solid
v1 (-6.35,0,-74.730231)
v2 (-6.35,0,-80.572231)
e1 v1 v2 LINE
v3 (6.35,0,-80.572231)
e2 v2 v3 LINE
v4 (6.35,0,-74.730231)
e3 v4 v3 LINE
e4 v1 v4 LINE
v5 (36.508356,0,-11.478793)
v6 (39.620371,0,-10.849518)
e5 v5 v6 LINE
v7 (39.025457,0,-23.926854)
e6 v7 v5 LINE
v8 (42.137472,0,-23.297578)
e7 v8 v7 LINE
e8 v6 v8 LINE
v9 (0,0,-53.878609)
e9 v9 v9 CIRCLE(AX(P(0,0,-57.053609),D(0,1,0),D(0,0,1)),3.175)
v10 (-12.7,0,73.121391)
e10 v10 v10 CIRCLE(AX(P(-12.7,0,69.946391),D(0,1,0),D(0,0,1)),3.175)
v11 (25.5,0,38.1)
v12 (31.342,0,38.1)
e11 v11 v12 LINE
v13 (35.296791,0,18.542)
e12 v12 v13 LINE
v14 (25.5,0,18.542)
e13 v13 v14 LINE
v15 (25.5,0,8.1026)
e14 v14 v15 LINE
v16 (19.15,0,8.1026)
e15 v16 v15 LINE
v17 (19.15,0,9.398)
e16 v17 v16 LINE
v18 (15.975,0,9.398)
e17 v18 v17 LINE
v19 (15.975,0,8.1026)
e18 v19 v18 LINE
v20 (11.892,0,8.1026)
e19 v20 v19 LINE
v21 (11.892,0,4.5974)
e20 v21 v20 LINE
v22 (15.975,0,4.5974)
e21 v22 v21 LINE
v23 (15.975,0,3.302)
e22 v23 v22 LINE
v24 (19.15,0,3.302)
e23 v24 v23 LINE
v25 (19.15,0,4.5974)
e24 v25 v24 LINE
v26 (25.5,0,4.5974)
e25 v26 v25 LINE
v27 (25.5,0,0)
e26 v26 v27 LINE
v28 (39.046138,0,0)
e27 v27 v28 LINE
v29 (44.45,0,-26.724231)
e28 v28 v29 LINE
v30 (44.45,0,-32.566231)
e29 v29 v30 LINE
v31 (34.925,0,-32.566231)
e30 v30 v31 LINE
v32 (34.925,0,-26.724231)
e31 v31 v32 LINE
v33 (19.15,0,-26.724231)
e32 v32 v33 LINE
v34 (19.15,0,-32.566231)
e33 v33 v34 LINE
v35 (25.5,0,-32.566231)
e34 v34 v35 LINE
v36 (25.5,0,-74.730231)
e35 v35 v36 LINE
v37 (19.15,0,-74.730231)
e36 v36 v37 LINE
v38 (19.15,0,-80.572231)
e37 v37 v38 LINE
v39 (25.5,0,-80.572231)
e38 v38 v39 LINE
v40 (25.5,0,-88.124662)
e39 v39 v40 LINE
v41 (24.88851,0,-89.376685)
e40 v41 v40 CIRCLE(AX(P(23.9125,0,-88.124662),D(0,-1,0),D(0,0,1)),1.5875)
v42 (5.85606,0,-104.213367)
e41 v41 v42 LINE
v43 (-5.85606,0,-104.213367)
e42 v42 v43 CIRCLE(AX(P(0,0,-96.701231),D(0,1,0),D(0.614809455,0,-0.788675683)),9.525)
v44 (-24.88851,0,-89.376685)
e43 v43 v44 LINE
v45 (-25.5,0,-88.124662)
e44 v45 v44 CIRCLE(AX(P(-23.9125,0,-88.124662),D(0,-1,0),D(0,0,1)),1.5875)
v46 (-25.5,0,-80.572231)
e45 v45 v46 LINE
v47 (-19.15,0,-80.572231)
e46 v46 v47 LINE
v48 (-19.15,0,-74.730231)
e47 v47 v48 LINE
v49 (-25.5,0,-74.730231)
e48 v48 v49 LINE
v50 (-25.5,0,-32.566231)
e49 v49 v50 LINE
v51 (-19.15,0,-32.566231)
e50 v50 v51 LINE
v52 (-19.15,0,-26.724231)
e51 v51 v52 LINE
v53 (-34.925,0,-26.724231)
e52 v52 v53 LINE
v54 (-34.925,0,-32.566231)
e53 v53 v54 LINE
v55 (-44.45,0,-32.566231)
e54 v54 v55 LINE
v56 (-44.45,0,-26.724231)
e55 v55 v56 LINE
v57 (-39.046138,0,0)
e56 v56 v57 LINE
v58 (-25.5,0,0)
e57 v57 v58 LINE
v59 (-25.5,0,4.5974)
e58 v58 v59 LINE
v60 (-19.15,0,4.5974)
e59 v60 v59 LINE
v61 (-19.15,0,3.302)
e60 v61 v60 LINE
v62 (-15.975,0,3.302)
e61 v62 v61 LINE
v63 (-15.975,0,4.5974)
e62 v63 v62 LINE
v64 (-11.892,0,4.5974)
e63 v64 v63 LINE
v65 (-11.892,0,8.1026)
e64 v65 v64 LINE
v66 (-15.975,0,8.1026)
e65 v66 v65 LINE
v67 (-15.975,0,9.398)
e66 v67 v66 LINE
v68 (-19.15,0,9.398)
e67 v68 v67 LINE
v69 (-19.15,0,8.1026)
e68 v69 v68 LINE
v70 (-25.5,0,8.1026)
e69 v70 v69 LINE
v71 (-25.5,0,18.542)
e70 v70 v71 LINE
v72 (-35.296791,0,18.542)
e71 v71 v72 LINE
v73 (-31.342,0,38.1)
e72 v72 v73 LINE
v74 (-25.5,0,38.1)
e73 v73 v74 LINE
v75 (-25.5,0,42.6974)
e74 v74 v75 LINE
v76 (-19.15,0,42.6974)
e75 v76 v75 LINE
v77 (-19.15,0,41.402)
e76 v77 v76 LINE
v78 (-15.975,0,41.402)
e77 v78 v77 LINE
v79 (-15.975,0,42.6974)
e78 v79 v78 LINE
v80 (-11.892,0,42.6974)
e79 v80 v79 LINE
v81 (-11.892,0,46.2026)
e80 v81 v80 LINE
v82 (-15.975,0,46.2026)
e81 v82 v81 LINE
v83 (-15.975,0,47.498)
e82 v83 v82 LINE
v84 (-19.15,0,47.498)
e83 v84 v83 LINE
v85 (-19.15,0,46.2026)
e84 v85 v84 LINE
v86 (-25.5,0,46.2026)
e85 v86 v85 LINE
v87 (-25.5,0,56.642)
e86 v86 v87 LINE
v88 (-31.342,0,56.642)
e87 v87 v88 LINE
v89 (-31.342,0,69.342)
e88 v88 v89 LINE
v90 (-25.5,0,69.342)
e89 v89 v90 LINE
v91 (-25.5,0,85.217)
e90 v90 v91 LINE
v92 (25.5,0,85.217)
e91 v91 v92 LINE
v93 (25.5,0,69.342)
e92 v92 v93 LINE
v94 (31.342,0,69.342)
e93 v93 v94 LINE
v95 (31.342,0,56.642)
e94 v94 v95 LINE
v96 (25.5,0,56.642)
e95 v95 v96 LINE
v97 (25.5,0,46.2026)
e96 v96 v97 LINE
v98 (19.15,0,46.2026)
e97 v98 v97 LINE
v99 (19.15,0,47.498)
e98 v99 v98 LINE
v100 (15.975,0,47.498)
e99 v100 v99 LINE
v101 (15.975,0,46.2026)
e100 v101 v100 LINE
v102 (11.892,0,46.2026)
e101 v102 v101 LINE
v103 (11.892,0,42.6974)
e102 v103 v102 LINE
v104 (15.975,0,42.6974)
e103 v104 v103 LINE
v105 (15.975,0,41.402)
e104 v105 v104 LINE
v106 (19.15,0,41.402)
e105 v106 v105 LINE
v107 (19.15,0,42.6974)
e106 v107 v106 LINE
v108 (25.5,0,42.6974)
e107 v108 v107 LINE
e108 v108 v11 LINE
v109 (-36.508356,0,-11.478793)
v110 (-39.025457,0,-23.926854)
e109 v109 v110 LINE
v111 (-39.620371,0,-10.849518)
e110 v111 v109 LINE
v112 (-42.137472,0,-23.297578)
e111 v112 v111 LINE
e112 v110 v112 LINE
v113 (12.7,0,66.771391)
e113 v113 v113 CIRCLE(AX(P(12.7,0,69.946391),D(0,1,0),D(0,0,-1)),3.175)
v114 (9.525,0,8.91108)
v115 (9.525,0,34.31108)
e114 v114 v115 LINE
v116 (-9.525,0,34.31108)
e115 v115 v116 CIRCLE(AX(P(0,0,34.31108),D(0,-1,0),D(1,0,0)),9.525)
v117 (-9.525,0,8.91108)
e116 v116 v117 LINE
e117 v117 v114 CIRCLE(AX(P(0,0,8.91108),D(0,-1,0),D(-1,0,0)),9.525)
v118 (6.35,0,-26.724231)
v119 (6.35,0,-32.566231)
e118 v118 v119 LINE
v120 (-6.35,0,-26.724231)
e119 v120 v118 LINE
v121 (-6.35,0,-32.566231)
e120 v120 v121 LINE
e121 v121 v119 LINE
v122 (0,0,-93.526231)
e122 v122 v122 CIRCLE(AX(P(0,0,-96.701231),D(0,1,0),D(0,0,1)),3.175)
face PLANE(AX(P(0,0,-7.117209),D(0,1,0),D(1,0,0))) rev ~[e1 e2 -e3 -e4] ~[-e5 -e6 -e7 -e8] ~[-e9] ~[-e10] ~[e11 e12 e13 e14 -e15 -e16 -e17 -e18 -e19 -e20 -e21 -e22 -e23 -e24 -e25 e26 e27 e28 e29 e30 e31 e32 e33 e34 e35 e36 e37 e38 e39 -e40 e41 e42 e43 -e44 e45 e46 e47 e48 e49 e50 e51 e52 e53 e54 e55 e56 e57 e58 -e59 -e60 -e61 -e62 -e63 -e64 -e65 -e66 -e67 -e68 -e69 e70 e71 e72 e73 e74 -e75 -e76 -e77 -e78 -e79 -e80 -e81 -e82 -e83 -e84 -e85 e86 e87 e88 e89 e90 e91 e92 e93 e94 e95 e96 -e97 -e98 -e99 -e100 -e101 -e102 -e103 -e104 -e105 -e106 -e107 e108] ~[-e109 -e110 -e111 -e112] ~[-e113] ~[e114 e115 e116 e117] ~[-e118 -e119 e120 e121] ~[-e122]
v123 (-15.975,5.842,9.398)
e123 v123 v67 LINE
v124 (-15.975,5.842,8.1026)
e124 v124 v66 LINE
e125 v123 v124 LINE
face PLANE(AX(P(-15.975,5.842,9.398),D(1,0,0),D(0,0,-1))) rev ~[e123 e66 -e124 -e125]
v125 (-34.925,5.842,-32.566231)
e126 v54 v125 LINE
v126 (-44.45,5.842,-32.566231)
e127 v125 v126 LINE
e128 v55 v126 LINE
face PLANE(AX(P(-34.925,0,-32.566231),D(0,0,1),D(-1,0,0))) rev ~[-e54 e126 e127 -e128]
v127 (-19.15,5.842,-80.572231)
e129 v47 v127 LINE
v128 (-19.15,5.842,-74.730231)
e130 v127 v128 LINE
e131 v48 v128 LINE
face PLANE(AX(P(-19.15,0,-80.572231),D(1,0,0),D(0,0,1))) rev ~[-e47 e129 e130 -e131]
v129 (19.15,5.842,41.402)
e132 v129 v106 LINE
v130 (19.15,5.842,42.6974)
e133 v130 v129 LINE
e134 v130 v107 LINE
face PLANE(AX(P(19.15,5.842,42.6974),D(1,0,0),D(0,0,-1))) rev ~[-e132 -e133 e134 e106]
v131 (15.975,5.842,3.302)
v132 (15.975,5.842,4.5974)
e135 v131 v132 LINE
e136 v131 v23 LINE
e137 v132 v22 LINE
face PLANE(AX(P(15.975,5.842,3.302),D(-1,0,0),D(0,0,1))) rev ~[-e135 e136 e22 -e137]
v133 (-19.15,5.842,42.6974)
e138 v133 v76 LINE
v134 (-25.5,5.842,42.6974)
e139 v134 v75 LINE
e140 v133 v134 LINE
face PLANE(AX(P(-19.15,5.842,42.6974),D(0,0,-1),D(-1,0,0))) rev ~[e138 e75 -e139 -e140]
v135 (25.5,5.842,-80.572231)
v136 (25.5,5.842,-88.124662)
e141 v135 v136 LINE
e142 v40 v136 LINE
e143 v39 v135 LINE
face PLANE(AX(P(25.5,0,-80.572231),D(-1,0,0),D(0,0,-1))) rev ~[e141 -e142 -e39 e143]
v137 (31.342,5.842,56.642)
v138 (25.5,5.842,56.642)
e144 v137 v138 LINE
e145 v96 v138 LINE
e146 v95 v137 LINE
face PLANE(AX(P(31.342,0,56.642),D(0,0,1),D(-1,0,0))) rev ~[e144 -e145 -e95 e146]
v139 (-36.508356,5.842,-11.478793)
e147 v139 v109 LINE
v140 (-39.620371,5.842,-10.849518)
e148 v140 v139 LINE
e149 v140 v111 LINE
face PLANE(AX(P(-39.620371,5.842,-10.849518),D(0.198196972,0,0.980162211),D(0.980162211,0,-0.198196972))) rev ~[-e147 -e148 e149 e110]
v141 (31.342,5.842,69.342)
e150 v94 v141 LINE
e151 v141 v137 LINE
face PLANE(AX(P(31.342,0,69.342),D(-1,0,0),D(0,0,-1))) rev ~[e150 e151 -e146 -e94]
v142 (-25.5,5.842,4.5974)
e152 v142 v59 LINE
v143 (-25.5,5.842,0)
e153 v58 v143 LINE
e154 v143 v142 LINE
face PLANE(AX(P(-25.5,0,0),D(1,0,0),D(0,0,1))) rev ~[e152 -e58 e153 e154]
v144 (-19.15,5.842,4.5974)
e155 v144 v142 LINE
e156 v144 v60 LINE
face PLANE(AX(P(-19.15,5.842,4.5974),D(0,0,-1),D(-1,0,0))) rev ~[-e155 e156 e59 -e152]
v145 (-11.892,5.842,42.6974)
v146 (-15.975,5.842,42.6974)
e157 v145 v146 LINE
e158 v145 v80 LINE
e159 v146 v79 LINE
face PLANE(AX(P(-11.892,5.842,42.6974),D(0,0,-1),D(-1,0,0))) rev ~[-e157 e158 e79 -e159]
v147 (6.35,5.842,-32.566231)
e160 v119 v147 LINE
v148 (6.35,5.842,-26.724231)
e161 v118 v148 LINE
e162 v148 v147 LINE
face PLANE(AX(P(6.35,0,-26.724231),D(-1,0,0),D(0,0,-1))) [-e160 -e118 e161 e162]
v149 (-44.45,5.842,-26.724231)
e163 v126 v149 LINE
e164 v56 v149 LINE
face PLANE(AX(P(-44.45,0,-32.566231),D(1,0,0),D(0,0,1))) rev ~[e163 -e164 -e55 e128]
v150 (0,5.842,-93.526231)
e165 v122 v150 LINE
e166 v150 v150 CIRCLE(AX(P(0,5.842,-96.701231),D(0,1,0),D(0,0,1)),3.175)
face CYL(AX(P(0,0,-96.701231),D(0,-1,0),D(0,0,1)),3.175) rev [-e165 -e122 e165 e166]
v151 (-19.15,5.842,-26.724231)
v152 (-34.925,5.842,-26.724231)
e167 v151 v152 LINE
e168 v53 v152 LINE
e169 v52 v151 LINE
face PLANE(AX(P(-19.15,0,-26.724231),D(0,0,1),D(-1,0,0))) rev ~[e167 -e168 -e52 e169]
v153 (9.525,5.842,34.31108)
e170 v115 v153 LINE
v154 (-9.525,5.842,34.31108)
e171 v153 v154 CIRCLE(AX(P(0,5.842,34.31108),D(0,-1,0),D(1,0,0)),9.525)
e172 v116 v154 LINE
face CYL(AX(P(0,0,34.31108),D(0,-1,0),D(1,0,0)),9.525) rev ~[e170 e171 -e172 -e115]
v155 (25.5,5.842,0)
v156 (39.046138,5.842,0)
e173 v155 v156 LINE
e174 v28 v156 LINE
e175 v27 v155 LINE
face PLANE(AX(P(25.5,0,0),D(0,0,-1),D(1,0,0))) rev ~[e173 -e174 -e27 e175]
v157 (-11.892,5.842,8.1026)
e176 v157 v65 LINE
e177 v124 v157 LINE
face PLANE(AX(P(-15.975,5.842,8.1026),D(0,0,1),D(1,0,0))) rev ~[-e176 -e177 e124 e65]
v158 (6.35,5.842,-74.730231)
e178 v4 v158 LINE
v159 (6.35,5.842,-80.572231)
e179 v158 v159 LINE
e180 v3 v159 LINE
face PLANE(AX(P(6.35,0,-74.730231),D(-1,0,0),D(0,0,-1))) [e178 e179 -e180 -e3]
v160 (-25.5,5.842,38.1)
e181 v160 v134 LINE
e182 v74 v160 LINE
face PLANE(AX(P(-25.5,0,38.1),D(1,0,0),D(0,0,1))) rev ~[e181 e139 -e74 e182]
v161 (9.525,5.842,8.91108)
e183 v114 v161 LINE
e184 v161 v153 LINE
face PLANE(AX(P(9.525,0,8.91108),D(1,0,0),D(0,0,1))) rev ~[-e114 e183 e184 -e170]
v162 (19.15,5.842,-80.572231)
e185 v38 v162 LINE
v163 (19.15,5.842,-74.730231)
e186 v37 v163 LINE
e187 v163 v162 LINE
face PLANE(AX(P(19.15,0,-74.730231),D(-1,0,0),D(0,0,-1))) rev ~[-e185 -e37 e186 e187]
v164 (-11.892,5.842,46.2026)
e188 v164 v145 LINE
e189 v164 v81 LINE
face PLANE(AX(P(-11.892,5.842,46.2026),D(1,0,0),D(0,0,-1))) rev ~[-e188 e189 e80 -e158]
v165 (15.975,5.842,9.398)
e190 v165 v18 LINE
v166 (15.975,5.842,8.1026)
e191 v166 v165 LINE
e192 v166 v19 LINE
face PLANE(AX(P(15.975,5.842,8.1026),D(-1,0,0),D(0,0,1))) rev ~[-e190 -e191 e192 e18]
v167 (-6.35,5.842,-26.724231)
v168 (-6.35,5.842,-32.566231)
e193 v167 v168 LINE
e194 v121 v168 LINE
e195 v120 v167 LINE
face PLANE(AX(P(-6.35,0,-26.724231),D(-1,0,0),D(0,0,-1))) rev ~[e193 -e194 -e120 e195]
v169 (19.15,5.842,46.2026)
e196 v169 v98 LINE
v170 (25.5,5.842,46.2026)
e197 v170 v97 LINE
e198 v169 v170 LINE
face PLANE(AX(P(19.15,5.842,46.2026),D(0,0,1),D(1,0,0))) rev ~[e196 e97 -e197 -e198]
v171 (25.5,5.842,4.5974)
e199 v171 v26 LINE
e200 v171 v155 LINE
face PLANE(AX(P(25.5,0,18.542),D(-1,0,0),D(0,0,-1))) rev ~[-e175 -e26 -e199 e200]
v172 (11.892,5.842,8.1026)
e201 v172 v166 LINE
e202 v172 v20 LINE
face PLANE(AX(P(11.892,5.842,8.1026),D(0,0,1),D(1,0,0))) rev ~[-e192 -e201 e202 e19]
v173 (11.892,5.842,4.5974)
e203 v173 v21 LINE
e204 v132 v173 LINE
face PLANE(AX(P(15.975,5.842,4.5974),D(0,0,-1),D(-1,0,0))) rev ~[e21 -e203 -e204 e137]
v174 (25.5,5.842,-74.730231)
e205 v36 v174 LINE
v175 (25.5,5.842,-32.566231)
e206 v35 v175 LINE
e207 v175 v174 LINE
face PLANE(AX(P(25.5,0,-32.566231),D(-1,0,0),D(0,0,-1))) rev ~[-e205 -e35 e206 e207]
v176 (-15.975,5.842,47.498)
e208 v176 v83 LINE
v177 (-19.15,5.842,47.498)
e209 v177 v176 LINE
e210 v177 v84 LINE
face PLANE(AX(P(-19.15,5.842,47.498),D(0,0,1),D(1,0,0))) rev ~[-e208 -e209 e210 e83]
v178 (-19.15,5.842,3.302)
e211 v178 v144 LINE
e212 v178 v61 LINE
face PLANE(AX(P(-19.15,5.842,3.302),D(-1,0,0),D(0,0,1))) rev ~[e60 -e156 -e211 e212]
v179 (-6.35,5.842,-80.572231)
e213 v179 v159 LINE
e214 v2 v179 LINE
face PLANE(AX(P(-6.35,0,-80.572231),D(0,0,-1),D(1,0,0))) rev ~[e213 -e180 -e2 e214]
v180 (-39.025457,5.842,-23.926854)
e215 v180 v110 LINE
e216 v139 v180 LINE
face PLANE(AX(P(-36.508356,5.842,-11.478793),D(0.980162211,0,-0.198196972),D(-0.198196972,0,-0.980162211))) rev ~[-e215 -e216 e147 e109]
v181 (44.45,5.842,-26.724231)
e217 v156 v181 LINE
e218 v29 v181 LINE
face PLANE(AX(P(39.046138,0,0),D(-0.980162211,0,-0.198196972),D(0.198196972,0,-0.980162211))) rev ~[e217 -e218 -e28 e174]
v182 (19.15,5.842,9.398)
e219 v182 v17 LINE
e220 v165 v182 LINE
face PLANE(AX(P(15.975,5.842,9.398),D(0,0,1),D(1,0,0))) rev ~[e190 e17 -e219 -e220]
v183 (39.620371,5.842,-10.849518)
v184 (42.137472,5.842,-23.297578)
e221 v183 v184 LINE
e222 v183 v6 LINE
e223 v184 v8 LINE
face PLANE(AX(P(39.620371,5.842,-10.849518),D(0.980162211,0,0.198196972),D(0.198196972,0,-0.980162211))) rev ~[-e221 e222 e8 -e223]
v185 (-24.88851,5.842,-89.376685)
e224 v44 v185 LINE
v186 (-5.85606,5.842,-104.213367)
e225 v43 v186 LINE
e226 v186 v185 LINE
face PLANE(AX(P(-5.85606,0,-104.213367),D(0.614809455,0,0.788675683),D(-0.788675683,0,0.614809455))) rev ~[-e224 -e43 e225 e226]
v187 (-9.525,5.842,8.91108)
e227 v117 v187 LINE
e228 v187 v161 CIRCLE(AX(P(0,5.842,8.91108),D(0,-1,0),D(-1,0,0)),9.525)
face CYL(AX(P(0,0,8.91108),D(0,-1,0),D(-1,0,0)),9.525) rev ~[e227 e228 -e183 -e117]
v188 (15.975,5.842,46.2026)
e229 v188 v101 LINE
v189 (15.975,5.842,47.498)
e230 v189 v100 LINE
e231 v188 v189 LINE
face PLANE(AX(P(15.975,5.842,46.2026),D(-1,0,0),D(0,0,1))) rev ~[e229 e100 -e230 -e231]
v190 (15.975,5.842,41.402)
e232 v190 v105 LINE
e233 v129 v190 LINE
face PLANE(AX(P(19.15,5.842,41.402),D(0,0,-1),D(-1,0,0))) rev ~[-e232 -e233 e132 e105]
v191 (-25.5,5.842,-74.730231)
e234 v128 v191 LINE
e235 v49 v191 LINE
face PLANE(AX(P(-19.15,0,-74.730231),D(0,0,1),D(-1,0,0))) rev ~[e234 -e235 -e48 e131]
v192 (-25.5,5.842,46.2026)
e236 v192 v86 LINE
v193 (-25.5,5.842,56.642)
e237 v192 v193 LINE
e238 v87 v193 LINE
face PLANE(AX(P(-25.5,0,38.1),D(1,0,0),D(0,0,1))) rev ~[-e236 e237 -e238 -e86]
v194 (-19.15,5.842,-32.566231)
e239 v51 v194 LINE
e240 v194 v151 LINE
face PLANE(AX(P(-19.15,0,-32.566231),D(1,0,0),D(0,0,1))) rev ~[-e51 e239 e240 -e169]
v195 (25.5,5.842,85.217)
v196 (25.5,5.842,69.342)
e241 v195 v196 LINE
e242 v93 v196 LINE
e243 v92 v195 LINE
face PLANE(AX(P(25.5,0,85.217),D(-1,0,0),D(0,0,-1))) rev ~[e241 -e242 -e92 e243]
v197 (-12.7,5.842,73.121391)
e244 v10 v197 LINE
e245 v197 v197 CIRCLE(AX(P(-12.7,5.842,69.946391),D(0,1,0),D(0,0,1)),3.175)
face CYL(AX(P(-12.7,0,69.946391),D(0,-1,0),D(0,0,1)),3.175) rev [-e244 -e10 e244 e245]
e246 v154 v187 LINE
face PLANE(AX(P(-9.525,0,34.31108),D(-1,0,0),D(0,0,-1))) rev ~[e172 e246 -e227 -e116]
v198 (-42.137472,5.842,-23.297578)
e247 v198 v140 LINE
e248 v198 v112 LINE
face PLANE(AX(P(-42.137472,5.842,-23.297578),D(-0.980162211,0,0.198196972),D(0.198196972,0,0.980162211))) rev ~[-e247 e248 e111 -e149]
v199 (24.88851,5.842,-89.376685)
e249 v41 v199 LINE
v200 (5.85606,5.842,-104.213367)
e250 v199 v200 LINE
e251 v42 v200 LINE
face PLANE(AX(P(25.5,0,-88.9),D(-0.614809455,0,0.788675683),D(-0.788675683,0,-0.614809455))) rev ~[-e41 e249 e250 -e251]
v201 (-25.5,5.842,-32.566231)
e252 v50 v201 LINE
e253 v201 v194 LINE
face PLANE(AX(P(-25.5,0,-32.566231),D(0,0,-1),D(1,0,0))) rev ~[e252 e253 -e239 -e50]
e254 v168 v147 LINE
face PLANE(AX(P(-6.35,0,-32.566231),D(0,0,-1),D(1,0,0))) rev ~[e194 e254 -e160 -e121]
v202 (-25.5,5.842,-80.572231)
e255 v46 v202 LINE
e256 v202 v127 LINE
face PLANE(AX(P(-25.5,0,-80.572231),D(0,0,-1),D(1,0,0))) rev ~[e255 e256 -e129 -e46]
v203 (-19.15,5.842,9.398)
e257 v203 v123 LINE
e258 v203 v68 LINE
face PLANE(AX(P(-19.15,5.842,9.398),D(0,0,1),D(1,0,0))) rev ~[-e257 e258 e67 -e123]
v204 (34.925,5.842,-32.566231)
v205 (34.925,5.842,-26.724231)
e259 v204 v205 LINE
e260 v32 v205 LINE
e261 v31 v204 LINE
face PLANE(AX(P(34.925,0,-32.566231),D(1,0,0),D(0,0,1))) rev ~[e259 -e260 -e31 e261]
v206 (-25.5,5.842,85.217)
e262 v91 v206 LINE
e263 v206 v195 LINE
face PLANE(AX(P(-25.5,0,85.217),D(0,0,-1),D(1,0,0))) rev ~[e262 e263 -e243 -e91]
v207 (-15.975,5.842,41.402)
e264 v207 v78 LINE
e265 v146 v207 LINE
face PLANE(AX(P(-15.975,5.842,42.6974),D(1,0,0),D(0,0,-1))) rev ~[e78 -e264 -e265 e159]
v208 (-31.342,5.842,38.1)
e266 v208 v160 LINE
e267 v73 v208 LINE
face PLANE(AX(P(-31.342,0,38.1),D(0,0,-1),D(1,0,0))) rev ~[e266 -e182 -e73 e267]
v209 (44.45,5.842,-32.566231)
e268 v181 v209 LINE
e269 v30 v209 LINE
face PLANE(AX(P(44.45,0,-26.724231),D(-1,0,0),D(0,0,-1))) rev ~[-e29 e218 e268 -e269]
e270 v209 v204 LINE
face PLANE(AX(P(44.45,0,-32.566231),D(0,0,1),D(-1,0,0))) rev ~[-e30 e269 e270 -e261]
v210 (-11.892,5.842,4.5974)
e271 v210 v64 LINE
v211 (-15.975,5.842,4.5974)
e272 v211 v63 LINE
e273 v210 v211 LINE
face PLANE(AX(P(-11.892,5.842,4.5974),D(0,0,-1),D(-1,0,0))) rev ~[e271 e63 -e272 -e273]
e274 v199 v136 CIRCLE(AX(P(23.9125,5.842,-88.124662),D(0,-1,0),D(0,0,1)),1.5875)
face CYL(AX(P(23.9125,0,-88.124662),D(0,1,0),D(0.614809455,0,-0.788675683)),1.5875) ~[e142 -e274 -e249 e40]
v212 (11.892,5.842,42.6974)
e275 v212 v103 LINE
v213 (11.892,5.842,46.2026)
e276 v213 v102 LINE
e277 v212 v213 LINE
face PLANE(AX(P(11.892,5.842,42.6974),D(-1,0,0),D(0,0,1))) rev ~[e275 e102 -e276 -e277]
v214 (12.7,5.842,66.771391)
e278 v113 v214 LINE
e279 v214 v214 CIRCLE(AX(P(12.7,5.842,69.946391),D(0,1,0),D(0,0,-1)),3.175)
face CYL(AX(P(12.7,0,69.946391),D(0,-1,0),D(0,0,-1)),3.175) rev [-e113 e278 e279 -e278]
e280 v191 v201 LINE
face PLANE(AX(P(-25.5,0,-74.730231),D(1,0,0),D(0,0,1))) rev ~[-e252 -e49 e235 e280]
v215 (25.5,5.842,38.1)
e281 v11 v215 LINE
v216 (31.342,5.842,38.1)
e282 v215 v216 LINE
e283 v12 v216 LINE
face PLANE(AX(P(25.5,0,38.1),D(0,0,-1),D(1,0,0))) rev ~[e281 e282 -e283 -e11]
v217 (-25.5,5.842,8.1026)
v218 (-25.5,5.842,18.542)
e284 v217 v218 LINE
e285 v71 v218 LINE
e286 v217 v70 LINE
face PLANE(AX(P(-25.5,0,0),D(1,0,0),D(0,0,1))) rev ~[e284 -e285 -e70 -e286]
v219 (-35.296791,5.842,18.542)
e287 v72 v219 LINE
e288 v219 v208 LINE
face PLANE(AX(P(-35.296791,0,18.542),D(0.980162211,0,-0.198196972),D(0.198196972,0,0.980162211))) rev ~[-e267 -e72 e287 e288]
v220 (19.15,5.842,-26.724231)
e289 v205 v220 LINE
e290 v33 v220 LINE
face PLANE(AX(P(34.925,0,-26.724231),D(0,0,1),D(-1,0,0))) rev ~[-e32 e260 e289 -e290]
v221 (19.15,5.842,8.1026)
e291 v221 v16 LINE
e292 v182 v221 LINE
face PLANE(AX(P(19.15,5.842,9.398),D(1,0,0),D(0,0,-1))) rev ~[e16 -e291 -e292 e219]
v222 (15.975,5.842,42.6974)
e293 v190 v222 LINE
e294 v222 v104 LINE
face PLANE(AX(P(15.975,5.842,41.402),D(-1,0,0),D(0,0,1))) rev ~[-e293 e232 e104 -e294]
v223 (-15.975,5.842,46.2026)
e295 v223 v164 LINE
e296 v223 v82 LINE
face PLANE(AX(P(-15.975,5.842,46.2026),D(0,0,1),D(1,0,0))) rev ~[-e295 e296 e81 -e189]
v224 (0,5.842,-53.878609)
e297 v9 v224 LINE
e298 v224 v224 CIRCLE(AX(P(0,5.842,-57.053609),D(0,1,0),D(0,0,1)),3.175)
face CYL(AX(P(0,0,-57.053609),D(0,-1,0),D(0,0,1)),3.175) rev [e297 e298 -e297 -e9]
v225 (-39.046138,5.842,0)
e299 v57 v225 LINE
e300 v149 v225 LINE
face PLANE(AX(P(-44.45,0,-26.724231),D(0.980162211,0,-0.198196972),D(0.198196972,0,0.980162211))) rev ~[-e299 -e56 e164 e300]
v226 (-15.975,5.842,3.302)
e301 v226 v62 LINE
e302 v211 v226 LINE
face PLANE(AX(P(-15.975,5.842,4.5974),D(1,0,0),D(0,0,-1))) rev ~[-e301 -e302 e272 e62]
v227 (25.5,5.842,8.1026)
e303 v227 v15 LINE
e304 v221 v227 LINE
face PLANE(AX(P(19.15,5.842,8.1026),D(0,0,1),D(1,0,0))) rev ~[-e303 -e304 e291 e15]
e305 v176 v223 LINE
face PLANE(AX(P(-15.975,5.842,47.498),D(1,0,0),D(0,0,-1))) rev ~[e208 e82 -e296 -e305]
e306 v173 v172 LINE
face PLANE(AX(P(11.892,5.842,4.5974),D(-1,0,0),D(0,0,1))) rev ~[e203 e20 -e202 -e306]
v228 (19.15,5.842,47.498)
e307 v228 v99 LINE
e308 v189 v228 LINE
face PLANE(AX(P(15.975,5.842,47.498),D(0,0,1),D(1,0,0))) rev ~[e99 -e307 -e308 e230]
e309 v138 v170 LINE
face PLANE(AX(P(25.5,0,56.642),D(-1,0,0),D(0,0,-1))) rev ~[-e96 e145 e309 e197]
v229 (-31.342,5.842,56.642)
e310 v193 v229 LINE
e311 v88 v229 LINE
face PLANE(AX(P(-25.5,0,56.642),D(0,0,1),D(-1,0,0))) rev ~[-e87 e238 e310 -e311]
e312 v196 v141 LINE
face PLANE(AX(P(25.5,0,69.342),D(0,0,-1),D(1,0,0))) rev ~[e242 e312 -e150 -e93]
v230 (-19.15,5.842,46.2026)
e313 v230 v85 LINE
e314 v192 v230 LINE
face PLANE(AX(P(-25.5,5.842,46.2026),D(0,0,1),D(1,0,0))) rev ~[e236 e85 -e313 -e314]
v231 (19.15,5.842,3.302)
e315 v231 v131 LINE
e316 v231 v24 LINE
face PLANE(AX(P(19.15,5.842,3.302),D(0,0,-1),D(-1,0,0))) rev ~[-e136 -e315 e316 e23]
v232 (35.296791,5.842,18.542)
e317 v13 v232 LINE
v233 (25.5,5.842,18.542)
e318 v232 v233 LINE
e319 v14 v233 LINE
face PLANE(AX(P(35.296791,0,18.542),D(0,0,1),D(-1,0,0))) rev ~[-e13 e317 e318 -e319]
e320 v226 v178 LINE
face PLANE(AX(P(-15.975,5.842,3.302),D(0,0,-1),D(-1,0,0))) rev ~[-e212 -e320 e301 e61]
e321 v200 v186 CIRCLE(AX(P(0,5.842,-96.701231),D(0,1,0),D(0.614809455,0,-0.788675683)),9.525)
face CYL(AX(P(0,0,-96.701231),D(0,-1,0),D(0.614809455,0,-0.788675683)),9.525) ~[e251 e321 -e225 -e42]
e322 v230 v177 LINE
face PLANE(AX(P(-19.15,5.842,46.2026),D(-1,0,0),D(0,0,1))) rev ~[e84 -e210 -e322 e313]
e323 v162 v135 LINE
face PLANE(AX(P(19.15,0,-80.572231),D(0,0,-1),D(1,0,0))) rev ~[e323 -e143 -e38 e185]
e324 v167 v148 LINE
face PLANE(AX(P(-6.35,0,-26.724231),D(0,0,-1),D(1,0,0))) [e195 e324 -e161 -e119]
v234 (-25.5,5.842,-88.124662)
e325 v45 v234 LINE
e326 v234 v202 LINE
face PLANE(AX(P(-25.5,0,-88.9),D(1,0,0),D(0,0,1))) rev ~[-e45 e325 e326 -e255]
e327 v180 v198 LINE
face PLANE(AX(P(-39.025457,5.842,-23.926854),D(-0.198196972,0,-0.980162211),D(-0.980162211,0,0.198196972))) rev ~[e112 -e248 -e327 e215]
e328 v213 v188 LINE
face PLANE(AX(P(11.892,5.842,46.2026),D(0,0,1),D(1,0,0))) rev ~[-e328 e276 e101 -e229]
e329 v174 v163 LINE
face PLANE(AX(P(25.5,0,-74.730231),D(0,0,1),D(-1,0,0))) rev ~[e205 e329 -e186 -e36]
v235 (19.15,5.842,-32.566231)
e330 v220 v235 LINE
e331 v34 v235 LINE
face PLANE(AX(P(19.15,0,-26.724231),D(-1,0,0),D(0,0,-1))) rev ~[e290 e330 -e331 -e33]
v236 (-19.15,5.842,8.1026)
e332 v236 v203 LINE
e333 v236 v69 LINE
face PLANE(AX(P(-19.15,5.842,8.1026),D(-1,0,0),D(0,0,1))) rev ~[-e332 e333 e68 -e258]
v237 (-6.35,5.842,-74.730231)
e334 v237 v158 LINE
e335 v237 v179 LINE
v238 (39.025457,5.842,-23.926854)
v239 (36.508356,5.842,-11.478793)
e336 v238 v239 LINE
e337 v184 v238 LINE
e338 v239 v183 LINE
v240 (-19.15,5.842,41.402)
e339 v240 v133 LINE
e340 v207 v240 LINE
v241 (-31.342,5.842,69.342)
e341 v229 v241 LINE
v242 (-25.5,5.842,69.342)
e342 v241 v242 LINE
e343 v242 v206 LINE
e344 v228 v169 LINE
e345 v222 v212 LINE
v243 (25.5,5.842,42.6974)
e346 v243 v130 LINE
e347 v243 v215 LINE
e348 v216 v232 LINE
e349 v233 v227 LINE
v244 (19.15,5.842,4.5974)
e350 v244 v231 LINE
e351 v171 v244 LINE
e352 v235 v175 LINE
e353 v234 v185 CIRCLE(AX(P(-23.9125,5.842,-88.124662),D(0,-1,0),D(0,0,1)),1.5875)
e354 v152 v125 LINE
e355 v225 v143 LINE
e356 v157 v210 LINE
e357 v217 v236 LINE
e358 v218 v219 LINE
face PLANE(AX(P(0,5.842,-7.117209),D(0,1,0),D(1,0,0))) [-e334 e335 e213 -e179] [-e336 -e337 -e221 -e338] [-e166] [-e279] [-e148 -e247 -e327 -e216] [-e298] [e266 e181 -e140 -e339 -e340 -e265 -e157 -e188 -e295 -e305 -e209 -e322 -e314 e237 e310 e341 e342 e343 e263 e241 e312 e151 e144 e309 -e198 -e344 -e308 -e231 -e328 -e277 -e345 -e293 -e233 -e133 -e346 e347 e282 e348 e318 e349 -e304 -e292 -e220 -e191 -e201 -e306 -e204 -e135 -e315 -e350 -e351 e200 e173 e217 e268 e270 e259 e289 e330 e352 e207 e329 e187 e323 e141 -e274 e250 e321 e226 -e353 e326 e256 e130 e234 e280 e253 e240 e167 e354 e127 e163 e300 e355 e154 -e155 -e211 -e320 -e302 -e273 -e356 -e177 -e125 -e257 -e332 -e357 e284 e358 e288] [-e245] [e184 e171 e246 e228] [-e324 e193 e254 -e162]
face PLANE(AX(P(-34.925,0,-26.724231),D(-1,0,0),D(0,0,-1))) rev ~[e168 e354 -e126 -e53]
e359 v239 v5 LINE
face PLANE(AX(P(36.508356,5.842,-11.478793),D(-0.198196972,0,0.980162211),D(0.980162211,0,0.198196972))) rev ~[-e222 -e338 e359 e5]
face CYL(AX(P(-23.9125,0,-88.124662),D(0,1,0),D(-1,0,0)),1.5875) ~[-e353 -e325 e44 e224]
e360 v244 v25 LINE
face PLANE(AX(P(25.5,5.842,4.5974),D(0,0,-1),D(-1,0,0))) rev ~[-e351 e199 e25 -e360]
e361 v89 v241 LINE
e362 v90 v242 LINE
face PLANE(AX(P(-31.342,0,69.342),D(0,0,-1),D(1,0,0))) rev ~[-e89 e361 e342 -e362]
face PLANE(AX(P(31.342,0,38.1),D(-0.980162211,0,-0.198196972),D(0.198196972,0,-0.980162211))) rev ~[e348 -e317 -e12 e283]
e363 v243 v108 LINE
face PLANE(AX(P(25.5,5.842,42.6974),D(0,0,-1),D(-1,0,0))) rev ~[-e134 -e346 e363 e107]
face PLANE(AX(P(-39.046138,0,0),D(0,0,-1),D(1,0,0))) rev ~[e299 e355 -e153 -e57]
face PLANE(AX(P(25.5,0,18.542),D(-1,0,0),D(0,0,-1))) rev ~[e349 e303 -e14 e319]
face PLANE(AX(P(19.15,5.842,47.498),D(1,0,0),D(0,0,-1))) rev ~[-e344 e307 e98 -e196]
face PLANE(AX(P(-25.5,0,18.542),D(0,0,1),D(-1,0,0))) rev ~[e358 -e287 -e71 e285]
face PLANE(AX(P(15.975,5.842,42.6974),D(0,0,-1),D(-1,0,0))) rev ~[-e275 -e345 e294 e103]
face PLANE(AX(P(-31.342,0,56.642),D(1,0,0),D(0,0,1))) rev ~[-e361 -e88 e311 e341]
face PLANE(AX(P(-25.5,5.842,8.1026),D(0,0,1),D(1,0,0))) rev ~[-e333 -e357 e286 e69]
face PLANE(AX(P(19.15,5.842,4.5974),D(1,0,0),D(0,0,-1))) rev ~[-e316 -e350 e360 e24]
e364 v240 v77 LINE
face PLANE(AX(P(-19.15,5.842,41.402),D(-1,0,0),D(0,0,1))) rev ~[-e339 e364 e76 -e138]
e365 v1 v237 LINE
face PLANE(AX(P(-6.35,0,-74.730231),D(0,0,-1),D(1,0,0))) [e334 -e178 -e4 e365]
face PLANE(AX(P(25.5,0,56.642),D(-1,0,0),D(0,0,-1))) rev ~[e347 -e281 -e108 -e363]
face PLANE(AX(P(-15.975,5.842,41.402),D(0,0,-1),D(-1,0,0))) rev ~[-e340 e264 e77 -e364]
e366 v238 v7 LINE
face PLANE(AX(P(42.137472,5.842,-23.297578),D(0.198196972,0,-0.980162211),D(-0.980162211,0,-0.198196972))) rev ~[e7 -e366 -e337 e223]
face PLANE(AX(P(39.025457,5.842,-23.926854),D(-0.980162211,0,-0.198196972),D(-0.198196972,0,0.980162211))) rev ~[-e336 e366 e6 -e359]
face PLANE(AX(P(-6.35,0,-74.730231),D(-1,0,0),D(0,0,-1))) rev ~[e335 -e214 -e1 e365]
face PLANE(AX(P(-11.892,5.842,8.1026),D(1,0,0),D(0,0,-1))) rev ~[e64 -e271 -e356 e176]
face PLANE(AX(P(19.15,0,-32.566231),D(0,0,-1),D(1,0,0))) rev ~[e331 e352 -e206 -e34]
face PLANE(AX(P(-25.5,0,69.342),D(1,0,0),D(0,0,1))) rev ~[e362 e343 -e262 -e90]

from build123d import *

# Parameters (mm, degrees)
SKETCH1_R           = 3.175
SKETCH1_W           = 12.7
SKETCH1_H           = 5.842
BOSS_EXTRUDE1_DEPTH = 5.842
CUT_EXTRUDE1_DEPTH  = 116.299365115
FILLET1_R           = 1.5875
CUT_EXTRUDE2_DEPTH  = 116.299365115


with BuildPart() as part:
    # Sketch1 → Boss-Extrude1 (new body)
    with BuildSketch(Plane(origin=(0, 0, 0), x_dir=(1, 0, 0), z_dir=(0, 1, 0))):
        with BuildLine():
            Line((31.75, 26.724230903), (25.5, 26.724230903))
            Line((25.5, 26.724230903), (19.15, 26.724230903))
            Line((19.15, 26.724230903), (19.15, 32.566230903))
            Line((19.15, 32.566230903), (25.5, 32.566230903))
            Line((25.5, 32.566230903), (25.5, 74.730230903))
            Line((25.5, 74.730230903), (19.15, 74.730230903))
            Line((19.15, 74.730230903), (19.15, 80.572230903))
            Line((19.15, 80.572230903), (25.5, 80.572230903))
            Line((25.5, 80.572230903), (25.5, 88.9))
            Line((25.5, 88.9), (5.856060063, 104.213366787))
            ThreePointArc((5.856060063, 104.213366787), (0, 106.226230903), (-5.856060063, 104.213366787))
            Line((-5.856060063, 104.213366787), (-25.5, 88.9))
            Line((-25.5, 88.9), (-25.5, 80.572230903))
            Line((-25.5, 80.572230903), (-19.15, 80.572230903))
            Line((-19.15, 80.572230903), (-19.15, 74.730230903))
            Line((-19.15, 74.730230903), (-25.5, 74.730230903))
            Line((-25.5, 74.730230903), (-25.5, 32.566230903))
            Line((-25.5, 32.566230903), (-19.15, 32.566230903))
            Line((-19.15, 32.566230903), (-19.15, 26.724230903))
            Line((-19.15, 26.724230903), (-25.5, 26.724230903))
            Line((-25.5, 26.724230903), (-31.75, 26.724230903))
            Line((-31.75, 26.724230903), (-34.925, 26.724230903))
            Line((-34.925, 26.724230903), (-34.925, 32.566230903))
            Line((-34.925, 32.566230903), (-44.45, 32.566230903))
            Line((-44.45, 32.566230903), (-44.45, 26.724230903))
            Line((-44.45, 26.724230903), (-39.046137682, 0))
            Line((-39.046137682, 0), (-31.342, 0))
            Line((-31.342, 0), (-25.5, 0))
            Line((-25.5, 0), (-25.5, -18.542))
            Line((-25.5, -18.542), (-31.342, -18.542))
            Line((-31.342, -18.542), (-35.296790677, -18.542))
            Line((-35.296790677, -18.542), (-31.342, -38.1))
            Line((-31.342, -38.1), (-25.5, -38.1))
            Line((-25.5, -38.1), (-25.5, -56.642))
            Line((-25.5, -56.642), (-31.342, -56.642))
            Line((-31.342, -56.642), (-31.342, -69.342))
            Line((-31.342, -69.342), (-25.5, -69.342))
            Line((-25.5, -69.342), (-25.5, -85.217))
            Line((-25.5, -85.217), (25.5, -85.217))
            Line((25.5, -85.217), (25.5, -69.342))
            Line((25.5, -69.342), (31.342, -69.342))
            Line((31.342, -69.342), (31.342, -56.642))
            Line((31.342, -56.642), (25.5, -56.642))
            Line((25.5, -56.642), (25.5, -38.1))
            Line((25.5, -38.1), (31.342, -38.1))
            Line((31.342, -38.1), (35.296790677, -18.542))
            Line((35.296790677, -18.542), (31.342, -18.542))
            Line((31.342, -18.542), (25.5, -18.542))
            Line((25.5, -18.542), (25.5, 0))
            Line((25.5, 0), (31.342, 0))
            Line((31.342, 0), (39.046137682, 0))
            Line((39.046137682, 0), (44.45, 26.724230903))
            Line((44.45, 26.724230903), (44.45, 32.566230903))
            Line((44.45, 32.566230903), (34.925, 32.566230903))
            Line((34.925, 32.566230903), (34.925, 26.724230903))
            Line((34.925, 26.724230903), (31.75, 26.724230903))
        make_face()
        with Locations(Location((0, 96.701230903, 0), (0, 0, 270))):
            Circle(SKETCH1_R, mode=Mode.SUBTRACT)
        with Locations(Location((0, 57.053608903, 0), (0, 0, 270))):
            Circle(SKETCH1_R, mode=Mode.SUBTRACT)
        with Locations(Location((-12.7, -69.946391097, 0), (0, 0, 270))):
            Circle(SKETCH1_R, mode=Mode.SUBTRACT)
        with Locations(Location((12.7, -69.946391097, 0), (0, 0, 90))):
            Circle(SKETCH1_R, mode=Mode.SUBTRACT)
        with Locations((0, 77.651230903)):
            Rectangle(SKETCH1_W, SKETCH1_H, mode=Mode.SUBTRACT)
        with BuildLine():
            Line((9.525, -8.911080097), (9.525, -34.311080097))
            ThreePointArc((9.525, -34.311080097), (0, -43.836080097), (-9.525, -34.311080097))
            Line((-9.525, -34.311080097), (-9.525, -8.911080097))
            ThreePointArc((-9.525, -8.911080097), (0, 0.613919903), (9.525, -8.911080097))
        make_face(mode=Mode.SUBTRACT)
        with Locations((0, 29.645230903)):
            Rectangle(SKETCH1_W, SKETCH1_H, mode=Mode.SUBTRACT)
    extrude(amount=BOSS_EXTRUDE1_DEPTH)

    # Sketch2 → Cut-Extrude1 (cut, through all)
    with BuildSketch(Plane(origin=(0, 5.842, 0), x_dir=(1, 0, 0), z_dir=(0, 1, 0))):
        Polygon((-15.975, -42.6974), (-15.975, -41.402), (-19.15, -41.402), (-19.15, -42.6974), (-25.5, -42.6974), (-25.5, -46.2026), (-19.15, -46.2026), (-19.15, -47.498), (-15.975, -47.498), (-15.975, -46.2026), (-11.891999892, -46.2026), (-11.891999892, -42.6974), align=None)
        Polygon((-19.15, -8.1026), (-19.15, -9.398), (-15.975, -9.398), (-15.975, -8.1026), (-11.891999892, -8.1026), (-11.891999892, -4.5974), (-15.975, -4.5974), (-15.975, -3.302), (-19.15, -3.302), (-19.15, -4.5974), (-25.5, -4.5974), (-25.5, -8.1026), align=None)
        Polygon((15.975, -8.1026), (15.975, -9.398), (19.15, -9.398), (19.15, -8.1026), (25.5, -8.1026), (25.5, -4.5974), (19.15, -4.5974), (19.15, -3.302), (15.975, -3.302), (15.975, -4.5974), (11.891999892, -4.5974), (11.891999892, -8.1026), align=None)
        Polygon((19.15, -42.6974), (19.15, -41.402), (15.975, -41.402), (15.975, -42.6974), (11.891999892, -42.6974), (11.891999892, -46.2026), (15.975, -46.2026), (15.975, -47.498), (19.15, -47.498), (19.15, -46.2026), (25.5, -46.2026), (25.5, -42.6974), align=None)
    extrude(amount=-CUT_EXTRUDE1_DEPTH, mode=Mode.SUBTRACT)

    # Fillet1
    fillet1_edges = [part.edges().sort_by_distance(p)[0] for p in [
        (-25.5, 2.921, -88.9),
        (25.5, 2.921, -88.9),
    ]]
    fillet(fillet1_edges, radius=FILLET1_R)

    # Sketch3 → Cut-Extrude2 (cut, through all)
    with BuildSketch(Plane(origin=(0, 5.842, 0), x_dir=(1, 0, 0), z_dir=(0, 1, 0))):
        Polygon((-42.137472374, 23.29757819), (-39.620370832, 10.849518107), (-36.508355811, 11.478793492), (-39.025457353, 23.926853575), align=None)
        Polygon((39.025457353, 23.926853575), (36.508355811, 11.478793492), (39.620370832, 10.849518107), (42.137472374, 23.29757819), align=None)
    extrude(amount=-CUT_EXTRUDE2_DEPTH, mode=Mode.SUBTRACT)


solid = part.part
